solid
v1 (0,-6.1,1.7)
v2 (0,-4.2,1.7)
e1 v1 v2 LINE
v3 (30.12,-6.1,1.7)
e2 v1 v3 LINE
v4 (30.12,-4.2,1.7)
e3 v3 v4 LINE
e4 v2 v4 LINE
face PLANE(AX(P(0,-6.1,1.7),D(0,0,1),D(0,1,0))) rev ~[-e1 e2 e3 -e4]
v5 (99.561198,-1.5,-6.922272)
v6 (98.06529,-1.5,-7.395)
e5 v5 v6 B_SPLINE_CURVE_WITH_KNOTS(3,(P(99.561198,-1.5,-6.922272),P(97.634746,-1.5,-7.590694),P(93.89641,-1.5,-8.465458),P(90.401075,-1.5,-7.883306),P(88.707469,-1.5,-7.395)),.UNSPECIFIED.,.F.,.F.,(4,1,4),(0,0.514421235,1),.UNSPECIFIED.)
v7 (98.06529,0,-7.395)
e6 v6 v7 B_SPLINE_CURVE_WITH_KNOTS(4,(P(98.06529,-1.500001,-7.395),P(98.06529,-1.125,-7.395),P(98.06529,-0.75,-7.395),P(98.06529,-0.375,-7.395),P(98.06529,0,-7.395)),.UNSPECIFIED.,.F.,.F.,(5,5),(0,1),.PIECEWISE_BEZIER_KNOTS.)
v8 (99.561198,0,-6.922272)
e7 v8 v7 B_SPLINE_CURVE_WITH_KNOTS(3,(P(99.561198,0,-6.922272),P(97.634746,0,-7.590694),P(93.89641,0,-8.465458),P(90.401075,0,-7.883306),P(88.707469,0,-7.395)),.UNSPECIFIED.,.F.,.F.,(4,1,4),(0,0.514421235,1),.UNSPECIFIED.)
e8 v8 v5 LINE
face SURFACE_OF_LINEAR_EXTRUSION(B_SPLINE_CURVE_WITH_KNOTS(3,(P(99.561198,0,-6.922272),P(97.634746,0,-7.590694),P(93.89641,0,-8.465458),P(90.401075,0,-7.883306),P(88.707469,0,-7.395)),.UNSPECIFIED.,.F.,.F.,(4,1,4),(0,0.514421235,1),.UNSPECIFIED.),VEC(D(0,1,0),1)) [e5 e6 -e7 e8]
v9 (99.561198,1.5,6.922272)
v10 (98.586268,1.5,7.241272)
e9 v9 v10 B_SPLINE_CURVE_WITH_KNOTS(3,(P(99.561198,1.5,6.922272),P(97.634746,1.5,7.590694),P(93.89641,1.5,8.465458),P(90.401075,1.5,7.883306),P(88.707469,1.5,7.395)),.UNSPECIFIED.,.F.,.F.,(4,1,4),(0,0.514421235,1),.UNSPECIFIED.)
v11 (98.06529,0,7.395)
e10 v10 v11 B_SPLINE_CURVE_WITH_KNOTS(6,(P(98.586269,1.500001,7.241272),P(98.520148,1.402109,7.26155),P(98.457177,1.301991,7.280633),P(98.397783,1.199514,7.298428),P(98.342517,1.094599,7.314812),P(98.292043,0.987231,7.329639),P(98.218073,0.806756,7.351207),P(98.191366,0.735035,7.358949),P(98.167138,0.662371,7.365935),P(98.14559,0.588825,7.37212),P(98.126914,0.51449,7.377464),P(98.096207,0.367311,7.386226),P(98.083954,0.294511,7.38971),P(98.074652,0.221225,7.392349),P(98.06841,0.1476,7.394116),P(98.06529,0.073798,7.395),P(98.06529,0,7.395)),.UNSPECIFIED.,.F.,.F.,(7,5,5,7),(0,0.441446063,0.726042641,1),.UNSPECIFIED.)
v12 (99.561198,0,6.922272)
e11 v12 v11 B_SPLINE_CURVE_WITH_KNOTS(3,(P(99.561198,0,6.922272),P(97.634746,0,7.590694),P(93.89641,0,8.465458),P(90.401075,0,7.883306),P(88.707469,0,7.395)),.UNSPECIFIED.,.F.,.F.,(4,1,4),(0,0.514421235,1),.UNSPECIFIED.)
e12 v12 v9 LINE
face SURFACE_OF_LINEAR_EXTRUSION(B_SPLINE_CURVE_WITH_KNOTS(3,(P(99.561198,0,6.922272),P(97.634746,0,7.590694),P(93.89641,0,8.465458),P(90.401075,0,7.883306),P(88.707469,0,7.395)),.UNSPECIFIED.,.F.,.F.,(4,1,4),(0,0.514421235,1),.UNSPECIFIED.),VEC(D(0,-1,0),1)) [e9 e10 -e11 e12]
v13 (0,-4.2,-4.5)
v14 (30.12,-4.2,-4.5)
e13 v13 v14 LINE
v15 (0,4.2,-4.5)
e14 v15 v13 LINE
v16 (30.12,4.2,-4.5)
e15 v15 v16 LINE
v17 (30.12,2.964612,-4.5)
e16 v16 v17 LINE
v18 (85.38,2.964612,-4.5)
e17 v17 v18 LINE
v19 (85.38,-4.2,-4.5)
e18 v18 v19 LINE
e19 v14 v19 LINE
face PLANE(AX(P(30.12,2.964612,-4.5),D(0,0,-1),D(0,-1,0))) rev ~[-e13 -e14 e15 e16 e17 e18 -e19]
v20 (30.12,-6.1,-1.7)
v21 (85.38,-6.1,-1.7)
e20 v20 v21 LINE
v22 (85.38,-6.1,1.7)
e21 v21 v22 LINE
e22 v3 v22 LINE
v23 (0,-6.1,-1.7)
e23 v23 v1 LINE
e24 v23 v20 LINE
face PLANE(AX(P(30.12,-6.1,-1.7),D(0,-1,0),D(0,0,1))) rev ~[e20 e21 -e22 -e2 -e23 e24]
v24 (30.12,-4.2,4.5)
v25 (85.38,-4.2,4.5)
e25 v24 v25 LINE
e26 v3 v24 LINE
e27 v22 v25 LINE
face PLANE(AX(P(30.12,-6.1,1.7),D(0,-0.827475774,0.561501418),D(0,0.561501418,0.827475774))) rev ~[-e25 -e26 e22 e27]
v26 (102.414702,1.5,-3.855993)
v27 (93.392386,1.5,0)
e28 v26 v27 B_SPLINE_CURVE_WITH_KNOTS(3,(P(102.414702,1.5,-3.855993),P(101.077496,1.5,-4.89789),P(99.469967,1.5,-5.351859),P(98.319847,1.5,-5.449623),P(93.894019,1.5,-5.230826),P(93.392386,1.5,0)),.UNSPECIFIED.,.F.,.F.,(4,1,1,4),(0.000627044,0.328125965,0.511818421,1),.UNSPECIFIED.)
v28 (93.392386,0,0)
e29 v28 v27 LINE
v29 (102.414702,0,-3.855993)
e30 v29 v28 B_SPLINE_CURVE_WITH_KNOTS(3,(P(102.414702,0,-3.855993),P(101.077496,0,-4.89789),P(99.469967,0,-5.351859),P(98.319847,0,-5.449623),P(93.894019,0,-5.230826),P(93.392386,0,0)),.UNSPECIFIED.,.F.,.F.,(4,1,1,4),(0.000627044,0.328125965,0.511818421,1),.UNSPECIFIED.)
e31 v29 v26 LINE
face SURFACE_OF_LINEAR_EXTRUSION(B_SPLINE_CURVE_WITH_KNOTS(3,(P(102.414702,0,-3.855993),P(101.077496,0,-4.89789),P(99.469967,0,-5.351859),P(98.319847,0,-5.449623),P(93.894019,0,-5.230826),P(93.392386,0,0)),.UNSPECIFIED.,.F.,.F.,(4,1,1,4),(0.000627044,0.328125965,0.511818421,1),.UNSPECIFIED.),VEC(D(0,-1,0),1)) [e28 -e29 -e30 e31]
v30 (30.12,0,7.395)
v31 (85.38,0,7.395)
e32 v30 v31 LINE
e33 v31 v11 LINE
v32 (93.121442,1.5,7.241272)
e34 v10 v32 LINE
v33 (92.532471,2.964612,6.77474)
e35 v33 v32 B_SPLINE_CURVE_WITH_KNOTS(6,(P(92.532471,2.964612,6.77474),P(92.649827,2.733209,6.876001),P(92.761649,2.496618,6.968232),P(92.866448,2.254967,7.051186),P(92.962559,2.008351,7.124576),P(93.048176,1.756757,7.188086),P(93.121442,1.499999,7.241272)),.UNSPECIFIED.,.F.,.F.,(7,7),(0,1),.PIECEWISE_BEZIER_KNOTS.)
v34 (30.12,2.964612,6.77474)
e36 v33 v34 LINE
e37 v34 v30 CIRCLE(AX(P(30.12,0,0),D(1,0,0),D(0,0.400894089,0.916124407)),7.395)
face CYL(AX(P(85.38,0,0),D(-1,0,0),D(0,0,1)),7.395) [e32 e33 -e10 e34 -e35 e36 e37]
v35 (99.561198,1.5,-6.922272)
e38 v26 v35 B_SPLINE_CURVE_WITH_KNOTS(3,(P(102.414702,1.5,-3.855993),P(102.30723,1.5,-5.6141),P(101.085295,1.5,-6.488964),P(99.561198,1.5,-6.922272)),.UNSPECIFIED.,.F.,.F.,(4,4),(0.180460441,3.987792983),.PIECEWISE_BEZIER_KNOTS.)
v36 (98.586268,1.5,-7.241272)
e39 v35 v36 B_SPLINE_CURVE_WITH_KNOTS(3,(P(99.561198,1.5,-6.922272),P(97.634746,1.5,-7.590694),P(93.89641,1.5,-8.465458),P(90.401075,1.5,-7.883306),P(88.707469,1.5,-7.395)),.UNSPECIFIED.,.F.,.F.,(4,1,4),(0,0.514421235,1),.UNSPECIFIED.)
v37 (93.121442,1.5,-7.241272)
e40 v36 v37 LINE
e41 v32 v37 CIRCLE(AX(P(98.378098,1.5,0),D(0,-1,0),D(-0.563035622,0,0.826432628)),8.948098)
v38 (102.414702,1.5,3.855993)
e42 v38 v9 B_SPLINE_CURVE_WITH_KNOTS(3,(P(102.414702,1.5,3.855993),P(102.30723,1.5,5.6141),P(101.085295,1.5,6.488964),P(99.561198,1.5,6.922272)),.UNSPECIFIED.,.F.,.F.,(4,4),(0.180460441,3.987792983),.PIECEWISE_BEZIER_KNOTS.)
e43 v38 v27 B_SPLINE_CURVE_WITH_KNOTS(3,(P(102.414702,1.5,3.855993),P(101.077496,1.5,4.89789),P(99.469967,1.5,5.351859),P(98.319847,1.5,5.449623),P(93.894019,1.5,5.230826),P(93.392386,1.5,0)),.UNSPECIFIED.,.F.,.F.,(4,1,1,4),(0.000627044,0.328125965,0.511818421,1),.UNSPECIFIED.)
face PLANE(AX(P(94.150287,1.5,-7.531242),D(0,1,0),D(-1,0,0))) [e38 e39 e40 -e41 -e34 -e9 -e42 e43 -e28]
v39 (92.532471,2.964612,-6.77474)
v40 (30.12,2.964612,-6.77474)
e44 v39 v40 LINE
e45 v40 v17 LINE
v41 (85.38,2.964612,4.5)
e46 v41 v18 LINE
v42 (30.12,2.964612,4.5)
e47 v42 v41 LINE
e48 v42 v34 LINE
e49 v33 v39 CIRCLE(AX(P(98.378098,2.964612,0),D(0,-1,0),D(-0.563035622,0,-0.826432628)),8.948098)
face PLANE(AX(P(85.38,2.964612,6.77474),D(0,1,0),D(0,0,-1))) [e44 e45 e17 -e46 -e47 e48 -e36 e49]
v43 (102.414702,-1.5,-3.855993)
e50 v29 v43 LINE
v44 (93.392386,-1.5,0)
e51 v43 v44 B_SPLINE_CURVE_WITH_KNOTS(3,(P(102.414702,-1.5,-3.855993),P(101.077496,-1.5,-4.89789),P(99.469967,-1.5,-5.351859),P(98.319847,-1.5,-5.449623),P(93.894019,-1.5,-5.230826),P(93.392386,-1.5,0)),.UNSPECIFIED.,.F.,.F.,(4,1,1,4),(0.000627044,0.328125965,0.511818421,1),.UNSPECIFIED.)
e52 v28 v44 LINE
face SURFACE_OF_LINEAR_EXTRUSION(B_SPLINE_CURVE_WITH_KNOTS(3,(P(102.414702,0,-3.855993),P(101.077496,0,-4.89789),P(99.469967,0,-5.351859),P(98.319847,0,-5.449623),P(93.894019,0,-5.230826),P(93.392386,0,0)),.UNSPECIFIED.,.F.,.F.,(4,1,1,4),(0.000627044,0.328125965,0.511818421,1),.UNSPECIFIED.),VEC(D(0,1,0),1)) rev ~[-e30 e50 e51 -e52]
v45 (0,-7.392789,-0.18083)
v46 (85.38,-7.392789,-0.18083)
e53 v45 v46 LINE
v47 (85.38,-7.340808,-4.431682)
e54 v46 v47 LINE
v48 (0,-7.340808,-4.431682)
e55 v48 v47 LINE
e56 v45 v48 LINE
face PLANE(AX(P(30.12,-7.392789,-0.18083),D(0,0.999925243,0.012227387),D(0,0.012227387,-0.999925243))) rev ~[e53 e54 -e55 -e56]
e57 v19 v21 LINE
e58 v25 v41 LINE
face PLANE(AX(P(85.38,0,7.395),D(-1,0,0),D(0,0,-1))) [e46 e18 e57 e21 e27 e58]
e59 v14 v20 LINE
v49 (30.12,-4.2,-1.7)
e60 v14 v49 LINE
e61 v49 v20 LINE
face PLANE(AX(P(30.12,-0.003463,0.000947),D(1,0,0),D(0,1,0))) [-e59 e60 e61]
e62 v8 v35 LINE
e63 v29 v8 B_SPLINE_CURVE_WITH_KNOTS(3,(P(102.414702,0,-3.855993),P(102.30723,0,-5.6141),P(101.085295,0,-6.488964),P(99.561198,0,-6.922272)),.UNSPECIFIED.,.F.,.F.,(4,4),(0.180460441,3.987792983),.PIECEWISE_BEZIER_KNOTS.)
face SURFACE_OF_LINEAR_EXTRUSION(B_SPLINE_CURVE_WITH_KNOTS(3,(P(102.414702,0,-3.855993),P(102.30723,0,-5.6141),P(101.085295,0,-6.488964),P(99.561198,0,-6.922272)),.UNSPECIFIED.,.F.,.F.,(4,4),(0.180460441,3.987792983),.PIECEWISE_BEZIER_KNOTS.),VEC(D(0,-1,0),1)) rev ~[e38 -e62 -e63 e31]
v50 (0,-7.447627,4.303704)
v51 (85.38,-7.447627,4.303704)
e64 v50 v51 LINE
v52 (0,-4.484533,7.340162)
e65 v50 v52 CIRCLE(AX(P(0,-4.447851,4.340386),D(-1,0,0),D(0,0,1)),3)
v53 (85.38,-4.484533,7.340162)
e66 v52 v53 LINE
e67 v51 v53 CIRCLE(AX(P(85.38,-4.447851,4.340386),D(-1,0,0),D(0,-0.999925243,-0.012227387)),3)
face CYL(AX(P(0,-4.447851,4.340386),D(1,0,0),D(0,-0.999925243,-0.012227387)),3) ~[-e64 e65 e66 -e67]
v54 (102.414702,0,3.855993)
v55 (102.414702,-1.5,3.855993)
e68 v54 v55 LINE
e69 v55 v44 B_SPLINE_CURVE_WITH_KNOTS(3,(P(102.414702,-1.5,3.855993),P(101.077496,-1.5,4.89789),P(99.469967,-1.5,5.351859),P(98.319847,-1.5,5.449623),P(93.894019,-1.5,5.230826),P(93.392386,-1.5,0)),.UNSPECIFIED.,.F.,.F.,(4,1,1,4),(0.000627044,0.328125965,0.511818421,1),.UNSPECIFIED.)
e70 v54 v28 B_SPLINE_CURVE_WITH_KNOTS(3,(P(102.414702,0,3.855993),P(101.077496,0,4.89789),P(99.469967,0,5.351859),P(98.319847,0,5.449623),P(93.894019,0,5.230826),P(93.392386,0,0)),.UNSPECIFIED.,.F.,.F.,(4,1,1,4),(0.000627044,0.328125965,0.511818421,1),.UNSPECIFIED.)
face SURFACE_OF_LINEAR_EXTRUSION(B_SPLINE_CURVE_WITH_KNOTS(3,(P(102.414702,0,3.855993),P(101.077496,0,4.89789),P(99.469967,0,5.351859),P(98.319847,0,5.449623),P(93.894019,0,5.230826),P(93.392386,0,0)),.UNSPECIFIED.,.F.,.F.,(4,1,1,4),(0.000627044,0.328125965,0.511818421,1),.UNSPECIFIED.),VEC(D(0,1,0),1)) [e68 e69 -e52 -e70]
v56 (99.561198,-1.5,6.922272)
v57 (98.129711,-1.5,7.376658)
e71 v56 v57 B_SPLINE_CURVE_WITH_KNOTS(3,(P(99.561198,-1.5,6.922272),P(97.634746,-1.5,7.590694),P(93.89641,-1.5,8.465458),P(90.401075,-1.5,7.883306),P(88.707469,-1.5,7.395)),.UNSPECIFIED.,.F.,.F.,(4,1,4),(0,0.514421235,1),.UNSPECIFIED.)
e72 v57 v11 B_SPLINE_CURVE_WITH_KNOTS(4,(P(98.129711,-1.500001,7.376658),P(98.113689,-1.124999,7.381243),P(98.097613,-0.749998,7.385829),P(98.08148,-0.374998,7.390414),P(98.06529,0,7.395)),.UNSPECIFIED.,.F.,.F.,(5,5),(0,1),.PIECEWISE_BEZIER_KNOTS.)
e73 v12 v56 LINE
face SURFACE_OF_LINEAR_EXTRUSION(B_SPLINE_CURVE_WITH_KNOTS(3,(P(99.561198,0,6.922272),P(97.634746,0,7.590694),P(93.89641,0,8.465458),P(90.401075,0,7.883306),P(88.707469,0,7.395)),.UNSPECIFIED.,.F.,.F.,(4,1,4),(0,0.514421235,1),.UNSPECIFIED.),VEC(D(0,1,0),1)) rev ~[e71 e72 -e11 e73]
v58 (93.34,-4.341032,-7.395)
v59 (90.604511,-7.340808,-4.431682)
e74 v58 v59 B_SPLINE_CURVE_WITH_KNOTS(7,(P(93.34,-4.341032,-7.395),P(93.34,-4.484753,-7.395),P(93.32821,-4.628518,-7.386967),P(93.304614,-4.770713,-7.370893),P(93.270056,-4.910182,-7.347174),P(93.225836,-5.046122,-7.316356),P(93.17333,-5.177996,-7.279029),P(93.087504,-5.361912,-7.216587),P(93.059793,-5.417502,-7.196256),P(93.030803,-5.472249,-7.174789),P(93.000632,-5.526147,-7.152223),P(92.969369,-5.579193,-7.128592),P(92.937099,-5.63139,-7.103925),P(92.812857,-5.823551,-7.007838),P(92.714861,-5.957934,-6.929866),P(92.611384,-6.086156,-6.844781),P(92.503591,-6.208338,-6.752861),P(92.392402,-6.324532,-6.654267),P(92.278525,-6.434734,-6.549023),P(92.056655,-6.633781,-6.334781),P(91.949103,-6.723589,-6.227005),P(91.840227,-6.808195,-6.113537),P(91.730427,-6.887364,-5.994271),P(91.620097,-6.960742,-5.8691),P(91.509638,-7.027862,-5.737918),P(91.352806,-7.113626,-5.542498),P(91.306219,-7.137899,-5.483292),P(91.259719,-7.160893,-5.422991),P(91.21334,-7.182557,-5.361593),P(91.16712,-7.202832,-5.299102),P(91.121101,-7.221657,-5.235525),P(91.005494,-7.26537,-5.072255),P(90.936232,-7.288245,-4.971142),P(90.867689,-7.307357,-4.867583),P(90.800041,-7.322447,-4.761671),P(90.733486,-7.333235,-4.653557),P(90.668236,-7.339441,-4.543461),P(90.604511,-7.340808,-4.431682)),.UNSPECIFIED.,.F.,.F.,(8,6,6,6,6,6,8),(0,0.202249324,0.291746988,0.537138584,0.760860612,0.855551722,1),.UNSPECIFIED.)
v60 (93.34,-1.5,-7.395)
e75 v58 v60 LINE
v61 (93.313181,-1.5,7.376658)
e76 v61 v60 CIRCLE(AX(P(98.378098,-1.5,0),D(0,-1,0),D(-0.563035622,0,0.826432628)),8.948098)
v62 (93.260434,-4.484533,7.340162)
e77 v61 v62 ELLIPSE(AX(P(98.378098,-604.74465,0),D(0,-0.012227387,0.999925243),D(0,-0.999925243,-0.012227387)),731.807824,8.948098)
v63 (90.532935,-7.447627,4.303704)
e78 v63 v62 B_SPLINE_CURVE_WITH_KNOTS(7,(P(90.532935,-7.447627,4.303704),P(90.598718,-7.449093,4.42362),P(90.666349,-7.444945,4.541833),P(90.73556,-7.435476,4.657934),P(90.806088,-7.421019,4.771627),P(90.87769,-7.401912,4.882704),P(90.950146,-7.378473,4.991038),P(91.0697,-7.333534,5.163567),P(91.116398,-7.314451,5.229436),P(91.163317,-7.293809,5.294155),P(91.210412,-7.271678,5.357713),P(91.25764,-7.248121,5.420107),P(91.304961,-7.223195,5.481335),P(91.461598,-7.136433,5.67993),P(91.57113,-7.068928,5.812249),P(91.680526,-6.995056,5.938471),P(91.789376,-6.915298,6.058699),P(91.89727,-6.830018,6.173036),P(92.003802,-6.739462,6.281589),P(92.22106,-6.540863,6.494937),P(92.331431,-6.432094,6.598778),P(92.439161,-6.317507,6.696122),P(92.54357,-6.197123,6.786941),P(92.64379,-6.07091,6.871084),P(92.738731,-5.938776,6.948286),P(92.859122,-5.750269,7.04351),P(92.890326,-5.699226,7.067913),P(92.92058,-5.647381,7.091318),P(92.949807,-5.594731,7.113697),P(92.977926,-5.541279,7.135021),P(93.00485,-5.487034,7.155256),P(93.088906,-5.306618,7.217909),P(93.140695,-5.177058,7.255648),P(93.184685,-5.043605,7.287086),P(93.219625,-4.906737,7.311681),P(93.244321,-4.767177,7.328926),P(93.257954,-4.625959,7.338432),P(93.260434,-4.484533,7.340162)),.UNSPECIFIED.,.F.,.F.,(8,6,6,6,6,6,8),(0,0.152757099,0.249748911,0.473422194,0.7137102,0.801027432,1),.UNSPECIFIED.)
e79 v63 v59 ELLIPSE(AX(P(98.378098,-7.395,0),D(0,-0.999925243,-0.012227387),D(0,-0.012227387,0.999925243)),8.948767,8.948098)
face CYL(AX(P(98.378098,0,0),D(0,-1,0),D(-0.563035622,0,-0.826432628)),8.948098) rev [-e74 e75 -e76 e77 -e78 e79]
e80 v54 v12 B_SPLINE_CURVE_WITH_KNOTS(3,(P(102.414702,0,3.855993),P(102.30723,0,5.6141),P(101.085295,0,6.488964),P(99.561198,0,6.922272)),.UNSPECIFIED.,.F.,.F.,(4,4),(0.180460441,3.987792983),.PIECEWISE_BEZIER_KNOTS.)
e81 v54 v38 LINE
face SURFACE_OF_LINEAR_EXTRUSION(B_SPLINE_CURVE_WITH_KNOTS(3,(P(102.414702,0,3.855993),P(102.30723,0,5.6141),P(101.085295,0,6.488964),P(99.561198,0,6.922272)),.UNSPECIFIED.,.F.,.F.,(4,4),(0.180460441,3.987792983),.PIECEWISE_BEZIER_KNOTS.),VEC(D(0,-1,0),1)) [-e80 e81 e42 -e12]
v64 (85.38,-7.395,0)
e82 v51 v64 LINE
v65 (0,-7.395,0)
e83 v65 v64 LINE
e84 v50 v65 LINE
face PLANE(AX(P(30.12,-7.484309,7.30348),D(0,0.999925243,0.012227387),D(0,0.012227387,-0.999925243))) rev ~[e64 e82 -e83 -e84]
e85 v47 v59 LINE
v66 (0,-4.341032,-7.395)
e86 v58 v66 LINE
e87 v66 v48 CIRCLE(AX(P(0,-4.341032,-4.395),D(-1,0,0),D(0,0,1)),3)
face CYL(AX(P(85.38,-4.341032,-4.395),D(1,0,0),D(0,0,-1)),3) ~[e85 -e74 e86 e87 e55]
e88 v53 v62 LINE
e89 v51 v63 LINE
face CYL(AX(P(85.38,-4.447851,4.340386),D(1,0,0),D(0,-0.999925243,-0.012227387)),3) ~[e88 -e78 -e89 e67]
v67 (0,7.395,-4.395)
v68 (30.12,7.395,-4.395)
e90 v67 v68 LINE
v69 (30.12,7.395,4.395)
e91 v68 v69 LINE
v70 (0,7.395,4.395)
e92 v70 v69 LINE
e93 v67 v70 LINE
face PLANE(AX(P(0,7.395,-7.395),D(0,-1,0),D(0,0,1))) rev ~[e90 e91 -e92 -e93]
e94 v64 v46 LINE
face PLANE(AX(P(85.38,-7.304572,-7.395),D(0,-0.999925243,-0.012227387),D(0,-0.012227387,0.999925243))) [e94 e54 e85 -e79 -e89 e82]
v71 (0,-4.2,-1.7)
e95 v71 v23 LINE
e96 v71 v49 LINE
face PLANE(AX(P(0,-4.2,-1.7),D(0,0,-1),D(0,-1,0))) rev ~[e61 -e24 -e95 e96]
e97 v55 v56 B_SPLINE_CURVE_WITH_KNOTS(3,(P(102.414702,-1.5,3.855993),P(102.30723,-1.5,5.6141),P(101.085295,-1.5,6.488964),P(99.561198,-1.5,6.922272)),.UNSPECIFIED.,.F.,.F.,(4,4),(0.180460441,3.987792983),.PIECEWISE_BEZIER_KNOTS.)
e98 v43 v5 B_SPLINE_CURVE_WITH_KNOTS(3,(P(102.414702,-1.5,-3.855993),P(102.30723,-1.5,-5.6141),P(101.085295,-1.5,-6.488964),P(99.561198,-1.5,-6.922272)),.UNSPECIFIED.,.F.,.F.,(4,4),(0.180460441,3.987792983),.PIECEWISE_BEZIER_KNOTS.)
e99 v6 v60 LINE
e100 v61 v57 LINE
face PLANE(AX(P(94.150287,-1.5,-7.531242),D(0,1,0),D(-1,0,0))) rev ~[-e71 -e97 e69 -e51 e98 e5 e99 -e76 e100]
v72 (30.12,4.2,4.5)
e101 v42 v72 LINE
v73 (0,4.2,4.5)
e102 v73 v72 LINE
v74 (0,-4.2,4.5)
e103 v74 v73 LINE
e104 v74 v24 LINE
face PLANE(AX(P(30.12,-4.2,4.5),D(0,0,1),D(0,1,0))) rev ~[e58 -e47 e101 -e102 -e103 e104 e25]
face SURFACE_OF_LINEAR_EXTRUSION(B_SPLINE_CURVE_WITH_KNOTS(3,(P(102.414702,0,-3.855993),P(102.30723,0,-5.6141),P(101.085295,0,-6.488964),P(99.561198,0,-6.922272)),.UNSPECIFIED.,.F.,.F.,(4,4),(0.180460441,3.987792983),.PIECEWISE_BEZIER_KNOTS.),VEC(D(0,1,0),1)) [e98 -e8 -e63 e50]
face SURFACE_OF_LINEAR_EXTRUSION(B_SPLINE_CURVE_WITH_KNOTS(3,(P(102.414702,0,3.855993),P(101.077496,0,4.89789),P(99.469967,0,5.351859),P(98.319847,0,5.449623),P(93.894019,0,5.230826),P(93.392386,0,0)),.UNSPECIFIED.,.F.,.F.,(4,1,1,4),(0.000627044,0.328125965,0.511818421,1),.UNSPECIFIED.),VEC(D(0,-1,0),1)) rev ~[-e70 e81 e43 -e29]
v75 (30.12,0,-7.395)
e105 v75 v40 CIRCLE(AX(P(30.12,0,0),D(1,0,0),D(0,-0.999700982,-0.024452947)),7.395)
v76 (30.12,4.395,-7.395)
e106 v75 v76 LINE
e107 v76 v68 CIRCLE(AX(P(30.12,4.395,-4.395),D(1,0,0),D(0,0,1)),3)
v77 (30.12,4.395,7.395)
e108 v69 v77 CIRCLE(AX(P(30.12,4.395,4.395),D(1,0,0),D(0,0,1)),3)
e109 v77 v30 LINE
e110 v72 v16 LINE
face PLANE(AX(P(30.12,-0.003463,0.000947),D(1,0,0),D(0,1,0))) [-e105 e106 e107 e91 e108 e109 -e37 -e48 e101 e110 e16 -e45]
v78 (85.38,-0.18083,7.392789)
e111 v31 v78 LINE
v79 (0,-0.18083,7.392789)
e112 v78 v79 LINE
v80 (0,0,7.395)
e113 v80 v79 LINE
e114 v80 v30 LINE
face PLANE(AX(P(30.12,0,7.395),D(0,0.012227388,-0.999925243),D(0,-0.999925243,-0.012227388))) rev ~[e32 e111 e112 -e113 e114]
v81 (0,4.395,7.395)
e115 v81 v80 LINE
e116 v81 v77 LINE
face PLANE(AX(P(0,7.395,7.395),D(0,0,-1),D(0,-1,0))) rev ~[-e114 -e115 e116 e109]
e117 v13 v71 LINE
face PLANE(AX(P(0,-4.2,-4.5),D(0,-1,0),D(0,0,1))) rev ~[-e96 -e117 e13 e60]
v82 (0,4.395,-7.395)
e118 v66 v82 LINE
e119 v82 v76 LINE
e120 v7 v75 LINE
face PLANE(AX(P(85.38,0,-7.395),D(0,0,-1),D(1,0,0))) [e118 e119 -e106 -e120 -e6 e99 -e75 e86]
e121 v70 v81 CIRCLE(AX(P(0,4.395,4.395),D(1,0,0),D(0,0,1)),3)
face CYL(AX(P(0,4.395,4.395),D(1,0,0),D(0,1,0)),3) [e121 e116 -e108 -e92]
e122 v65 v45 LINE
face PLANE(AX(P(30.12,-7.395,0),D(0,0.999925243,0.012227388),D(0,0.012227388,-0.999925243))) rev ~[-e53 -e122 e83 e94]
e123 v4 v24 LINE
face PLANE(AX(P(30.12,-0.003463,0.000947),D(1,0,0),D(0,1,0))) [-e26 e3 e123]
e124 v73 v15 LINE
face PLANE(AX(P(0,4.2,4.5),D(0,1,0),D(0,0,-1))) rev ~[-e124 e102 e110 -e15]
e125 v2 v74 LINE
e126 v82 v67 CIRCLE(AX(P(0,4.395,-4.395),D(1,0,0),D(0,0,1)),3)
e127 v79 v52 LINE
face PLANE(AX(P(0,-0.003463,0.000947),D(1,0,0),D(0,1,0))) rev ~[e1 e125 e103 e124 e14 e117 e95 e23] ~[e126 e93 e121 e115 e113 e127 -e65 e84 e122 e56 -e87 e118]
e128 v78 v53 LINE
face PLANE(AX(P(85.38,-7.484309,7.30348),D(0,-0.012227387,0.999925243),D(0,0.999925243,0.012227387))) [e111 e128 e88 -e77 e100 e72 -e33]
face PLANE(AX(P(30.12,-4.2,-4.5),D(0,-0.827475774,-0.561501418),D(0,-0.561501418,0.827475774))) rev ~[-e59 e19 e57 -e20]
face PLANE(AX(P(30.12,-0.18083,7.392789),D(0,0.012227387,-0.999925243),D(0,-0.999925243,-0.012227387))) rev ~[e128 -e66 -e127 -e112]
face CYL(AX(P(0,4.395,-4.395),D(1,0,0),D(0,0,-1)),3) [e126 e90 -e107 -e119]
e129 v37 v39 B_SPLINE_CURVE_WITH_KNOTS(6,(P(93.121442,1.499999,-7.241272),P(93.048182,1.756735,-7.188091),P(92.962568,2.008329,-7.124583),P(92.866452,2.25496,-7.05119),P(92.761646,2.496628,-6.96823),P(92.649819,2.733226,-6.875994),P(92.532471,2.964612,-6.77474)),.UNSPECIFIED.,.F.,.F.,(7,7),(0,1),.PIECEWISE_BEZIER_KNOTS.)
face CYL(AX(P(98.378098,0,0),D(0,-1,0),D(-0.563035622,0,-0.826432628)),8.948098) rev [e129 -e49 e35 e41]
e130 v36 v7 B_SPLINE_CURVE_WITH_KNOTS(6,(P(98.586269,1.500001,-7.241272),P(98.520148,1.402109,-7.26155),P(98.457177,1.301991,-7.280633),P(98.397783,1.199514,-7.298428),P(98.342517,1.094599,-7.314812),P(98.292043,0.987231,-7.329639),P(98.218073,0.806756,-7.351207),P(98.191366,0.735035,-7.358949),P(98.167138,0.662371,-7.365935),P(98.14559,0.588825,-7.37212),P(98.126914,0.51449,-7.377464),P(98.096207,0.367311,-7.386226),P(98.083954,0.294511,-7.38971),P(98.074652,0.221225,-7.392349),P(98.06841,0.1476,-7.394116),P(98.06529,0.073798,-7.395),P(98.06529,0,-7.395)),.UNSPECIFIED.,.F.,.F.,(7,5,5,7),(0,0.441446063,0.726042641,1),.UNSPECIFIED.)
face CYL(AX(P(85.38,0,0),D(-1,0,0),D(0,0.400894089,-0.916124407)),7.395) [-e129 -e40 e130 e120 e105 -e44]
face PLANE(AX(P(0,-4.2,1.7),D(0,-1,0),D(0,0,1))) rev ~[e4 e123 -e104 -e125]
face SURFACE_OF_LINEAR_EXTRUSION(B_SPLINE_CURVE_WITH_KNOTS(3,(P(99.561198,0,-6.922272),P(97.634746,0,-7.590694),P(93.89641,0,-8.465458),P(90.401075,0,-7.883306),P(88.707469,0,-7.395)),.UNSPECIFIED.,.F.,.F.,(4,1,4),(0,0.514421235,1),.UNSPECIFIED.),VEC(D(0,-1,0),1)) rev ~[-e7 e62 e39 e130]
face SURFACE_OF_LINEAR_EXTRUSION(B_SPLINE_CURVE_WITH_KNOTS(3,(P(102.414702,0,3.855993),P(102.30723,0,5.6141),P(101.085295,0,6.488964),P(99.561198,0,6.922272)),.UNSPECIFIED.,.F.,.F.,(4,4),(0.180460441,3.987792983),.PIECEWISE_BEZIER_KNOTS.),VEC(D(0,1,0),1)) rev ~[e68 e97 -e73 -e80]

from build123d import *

# Parameters (mm, degrees)
F1_DEPTH = 30.12
F3_DEPTH = 55.26
F6_DEPTH = 7.5
F8_DEPTH = 1.5
F9_DEPTH = 13.7
F10_R    = 3


with BuildPart() as f1:
    # F0 (on Right) → F1 (new body)
    with BuildSketch(Plane.YZ):
        with BuildLine():
            ThreePointArc((0, -7.395), (5.2290546469, -5.2290546469), (7.395, 0))
            ThreePointArc((7.395, 0), (5.2290546469, 5.2290546469), (0, 7.395))
            Line((0, 7.395), (-0.1808295417, 7.3927887618))
            ThreePointArc((-0.1808295417, 7.3927887618), (-5.2926014143, 5.1647260595), (-7.395, 0))
            Line((-7.395, 0), (-7.3927887618, -0.1808295417))
            ThreePointArc((-7.3927887618, -0.1808295417), (-5.1647260595, -5.2926014143), (0, -7.395))
        make_face()
        Polygon((-4.2, 1.7), (-4.2, 4.5), (4.2, 4.5), (4.2, -4.5), (-4.2, -4.5), (-4.2, -1.7), (-6.1, -1.7), (-6.1, 1.7), align=None, mode=Mode.SUBTRACT)
        with BuildLine():
            Line((-7.3045717093, -7.395), (0, -7.395))
            ThreePointArc((0, -7.395), (-5.1647260595, -5.2926014143), (-7.3927887618, -0.1808295417))
            Line((-7.3927887618, -0.1808295417), (-7.3045717093, -7.395))
        make_face()
        with BuildLine():
            ThreePointArc((-7.395, 0), (-5.2926014143, 5.1647260595), (-0.1808295417, 7.3927887618))
            Line((-0.1808295417, 7.3927887618), (-7.4843091518, 7.3034796101))
            Line((-7.4843091518, 7.3034796101), (-7.395, 0))
        make_face()
        with BuildLine():
            Line((7.395, -7.395), (7.395, 0))
            ThreePointArc((7.395, 0), (5.2290546469, -5.2290546469), (0, -7.395))
            Line((0, -7.395), (7.395, -7.395))
        make_face()
        with BuildLine():
            ThreePointArc((0, 7.395), (5.2290546469, 5.2290546469), (7.395, 0))
            Line((7.395, 0), (7.395, 7.395))
            Line((7.395, 7.395), (0, 7.395))
        make_face()
    extrude(amount=F1_DEPTH)

    # F2 (on face) → F3 (join)
    with BuildSketch(Plane.YZ.offset(30.12)):
        with BuildLine():
            ThreePointArc((-7.395, 0), (-5.2926014143, 5.1647260595), (-0.1808295417, 7.3927887618))
            Line((-0.1808295417, 7.3927887618), (-7.4843091518, 7.3034796101))
            Line((-7.4843091518, 7.3034796101), (-7.395, 0))
        make_face()
        with BuildLine():
            Line((2.9646117869, 4.5), (2.9646117869, 6.7747399916))
            ThreePointArc((2.9646117869, 6.7747399916), (1.5144013277, 7.2382742155), (0, 7.395))
            Line((0, 7.395), (-0.1808295417, 7.3927887618))
            ThreePointArc((-0.1808295417, 7.3927887618), (-5.2926014143, 5.1647260595), (-7.395, 0))
            Line((-7.395, 0), (-7.3927887618, -0.1808295417))
            ThreePointArc((-7.3927887618, -0.1808295417), (-5.1647260595, -5.2926014143), (0, -7.395))
            ThreePointArc((0, -7.395), (1.5144013277, -7.2382742155), (2.9646117869, -6.7747399916))
            Line((2.9646117869, -6.7747399916), (2.9646117869, -4.5))
            Line((2.9646117869, -4.5), (-4.2, -4.5))
            Line((-4.2, -4.5), (-6.1, -1.7))
            Line((-6.1, -1.7), (-6.1, 1.7))
            Line((-6.1, 1.7), (-4.2, 4.5))
            Line((-4.2, 4.5), (2.9646117869, 4.5))
        make_face()
        with BuildLine():
            Line((-7.3045717093, -7.395), (0, -7.395))
            ThreePointArc((0, -7.395), (-5.1647260595, -5.2926014143), (-7.3927887618, -0.1808295417))
            Line((-7.3927887618, -0.1808295417), (-7.3045717093, -7.395))
        make_face()
    extrude(amount=F3_DEPTH)

    # F5 (on Front) → F6 (join, symmetric)
    with BuildSketch(Plane.XZ):
        with BuildLine():
            Line((93.34, 7.395), (85.38, 7.395))
            Line((85.38, 7.395), (85.38, -7.395))
            Line((85.38, -7.395), (93.34, -7.395))
            ThreePointArc((93.34, -7.395), (89.43, 0), (93.34, 7.395))
        make_face()
    extrude(amount=F6_DEPTH, both=True)

    # F7 (on Front) → F8 (join, symmetric)
    with BuildSketch(Plane.XZ):
        with BuildLine():
            add(Edge.make_bspline(
                [(99.5611976313, -6.9222719045), (97.6347457755, -7.5906937073), (93.8964104218, -8.4654582573), (90.4010751726, -7.8833055428), (88.7074694037, -7.395)],
                knots=[0, 0, 0, 0, 0.5144212355, 1, 1, 1, 1], degree=3))
            add(Edge.make_bspline(
                [(99.5611976313, -6.9222719045), (97.217178841, -7.58868722), (94.1584374095, -7.2106656851), (93.34, -7.395)],
                knots=[3.9877929831, 3.9877929831, 3.9877929831, 3.9877929831, 9.8433615853, 9.8433615853, 9.8433615853, 9.8433615853], degree=3))
            Line((93.34, -7.395), (88.7074694037, -7.395))
        make_face()
        with BuildLine():
            add(Edge.make_bspline(
                [(99.5611976313, -6.9222719045), (97.217178841, -7.58868722), (94.1584374095, -7.2106656851), (93.34, -7.395)],
                knots=[3.9877929831, 3.9877929831, 3.9877929831, 3.9877929831, 9.8433615853, 9.8433615853, 9.8433615853, 9.8433615853], degree=3))
            add(Edge.make_bspline(
                [(102.4147021825, -3.8559928472), (102.3072303482, -5.6141000369), (101.0852953963, -6.488963905), (99.5611976313, -6.9222719045)],
                knots=[0.1804604412, 0.1804604412, 0.1804604412, 0.1804604412, 3.9877929831, 3.9877929831, 3.9877929831, 3.9877929831], degree=3))
            add(Edge.make_bspline(
                [(102.4147021825, -3.8559928472), (101.0774964274, -4.8978899586), (99.4699665658, -5.3518592672), (98.3198470269, -5.449623214), (93.894019065, -5.2308255551), (93.3923863769, 0)],
                knots=[0.0006270435, 0.0006270435, 0.0006270435, 0.0006270435, 0.3281259648, 0.5118184212, 1, 1, 1, 1], degree=3))
            add(Edge.make_bspline(
                [(102.4147021825, 3.8559928472), (101.0774964274, 4.8978899586), (99.4699665658, 5.3518592672), (98.3198470269, 5.449623214), (93.894019065, 5.2308255551), (93.3923863769, 0)],
                knots=[0.0006270435, 0.0006270435, 0.0006270435, 0.0006270435, 0.3281259648, 0.5118184212, 1, 1, 1, 1], degree=3))
            add(Edge.make_bspline(
                [(102.4147021825, 3.8559928472), (102.3072303482, 5.6141000369), (101.0852953963, 6.488963905), (99.5611976313, 6.9222719045)],
                knots=[0.1804604412, 0.1804604412, 0.1804604412, 0.1804604412, 3.9877929831, 3.9877929831, 3.9877929831, 3.9877929831], degree=3))
            add(Edge.make_bspline(
                [(99.5611976313, 6.9222719045), (97.217178841, 7.58868722), (94.1584374095, 7.2106656851), (93.34, 7.395)],
                knots=[3.9877929831, 3.9877929831, 3.9877929831, 3.9877929831, 9.8433615853, 9.8433615853, 9.8433615853, 9.8433615853], degree=3))
            ThreePointArc((93.34, 7.395), (89.43, 0), (93.34, -7.395))
        make_face()
        with BuildLine():
            Line((88.7074694037, 7.395), (93.34, 7.395))
            add(Edge.make_bspline(
                [(99.5611976313, 6.9222719045), (97.217178841, 7.58868722), (94.1584374095, 7.2106656851), (93.34, 7.395)],
                knots=[3.9877929831, 3.9877929831, 3.9877929831, 3.9877929831, 9.8433615853, 9.8433615853, 9.8433615853, 9.8433615853], degree=3))
            add(Edge.make_bspline(
                [(99.5611976313, 6.9222719045), (97.6347457755, 7.5906937073), (93.8964104218, 8.4654582573), (90.4010751726, 7.8833055428), (88.7074694037, 7.395)],
                knots=[0, 0, 0, 0, 0.5144212355, 1, 1, 1, 1], degree=3))
        make_face()
    extrude(amount=F8_DEPTH, both=True)

    # F4 (on face) → F9 (cut)
    with BuildSketch(Plane.YZ.offset(85.38)):
        with BuildLine():
            Line((-8.1289913505, 8.4002688527), (-8.1289913505, -8.4002688527))
            Line((-8.1289913505, -8.4002688527), (2.9646117869, -8.4002688527))
            Line((2.9646117869, -8.4002688527), (2.9646117869, -6.7747399916))
            ThreePointArc((2.9646117869, -6.7747399916), (1.5144013277, -7.2382742155), (0, -7.395))
            Line((0, -7.395), (-7.3045717093, -7.395))
            Line((-7.3045717093, -7.395), (-7.4843091518, 7.3034796101))
            Line((-7.4843091518, 7.3034796101), (0, 7.395))
            ThreePointArc((0, 7.395), (1.5144013277, 7.2382742155), (2.9646117869, 6.7747399916))
            Line((2.9646117869, 6.7747399916), (2.9646117869, 8.4002688527))
            Line((2.9646117869, 8.4002688527), (-8.1289913505, 8.4002688527))
        make_face()
        Polygon((2.9646117869, -6.7747399916), (2.9646117869, -8.4002688527), (8.1289913505, -8.4002688527), (8.1289913505, 8.4002688527), (2.9646117869, 8.4002688527), (2.9646117869, 6.7747399916), (2.9646117869, 4.5), (2.9646117869, -4.5), align=None)
    extrude(amount=F9_DEPTH, mode=Mode.SUBTRACT)

    # F10
    f10_edges = [f1.edges().sort_by_distance(p)[0] for p in [
        (46.67, -7.304572, -7.395),
        (15.06, 7.395, 7.395),
        (15.06, 7.395, -7.395),
        (46.60411, -7.484309, 7.30348),
    ]]
    fillet(f10_edges, radius=F10_R)


solid = f1.part
